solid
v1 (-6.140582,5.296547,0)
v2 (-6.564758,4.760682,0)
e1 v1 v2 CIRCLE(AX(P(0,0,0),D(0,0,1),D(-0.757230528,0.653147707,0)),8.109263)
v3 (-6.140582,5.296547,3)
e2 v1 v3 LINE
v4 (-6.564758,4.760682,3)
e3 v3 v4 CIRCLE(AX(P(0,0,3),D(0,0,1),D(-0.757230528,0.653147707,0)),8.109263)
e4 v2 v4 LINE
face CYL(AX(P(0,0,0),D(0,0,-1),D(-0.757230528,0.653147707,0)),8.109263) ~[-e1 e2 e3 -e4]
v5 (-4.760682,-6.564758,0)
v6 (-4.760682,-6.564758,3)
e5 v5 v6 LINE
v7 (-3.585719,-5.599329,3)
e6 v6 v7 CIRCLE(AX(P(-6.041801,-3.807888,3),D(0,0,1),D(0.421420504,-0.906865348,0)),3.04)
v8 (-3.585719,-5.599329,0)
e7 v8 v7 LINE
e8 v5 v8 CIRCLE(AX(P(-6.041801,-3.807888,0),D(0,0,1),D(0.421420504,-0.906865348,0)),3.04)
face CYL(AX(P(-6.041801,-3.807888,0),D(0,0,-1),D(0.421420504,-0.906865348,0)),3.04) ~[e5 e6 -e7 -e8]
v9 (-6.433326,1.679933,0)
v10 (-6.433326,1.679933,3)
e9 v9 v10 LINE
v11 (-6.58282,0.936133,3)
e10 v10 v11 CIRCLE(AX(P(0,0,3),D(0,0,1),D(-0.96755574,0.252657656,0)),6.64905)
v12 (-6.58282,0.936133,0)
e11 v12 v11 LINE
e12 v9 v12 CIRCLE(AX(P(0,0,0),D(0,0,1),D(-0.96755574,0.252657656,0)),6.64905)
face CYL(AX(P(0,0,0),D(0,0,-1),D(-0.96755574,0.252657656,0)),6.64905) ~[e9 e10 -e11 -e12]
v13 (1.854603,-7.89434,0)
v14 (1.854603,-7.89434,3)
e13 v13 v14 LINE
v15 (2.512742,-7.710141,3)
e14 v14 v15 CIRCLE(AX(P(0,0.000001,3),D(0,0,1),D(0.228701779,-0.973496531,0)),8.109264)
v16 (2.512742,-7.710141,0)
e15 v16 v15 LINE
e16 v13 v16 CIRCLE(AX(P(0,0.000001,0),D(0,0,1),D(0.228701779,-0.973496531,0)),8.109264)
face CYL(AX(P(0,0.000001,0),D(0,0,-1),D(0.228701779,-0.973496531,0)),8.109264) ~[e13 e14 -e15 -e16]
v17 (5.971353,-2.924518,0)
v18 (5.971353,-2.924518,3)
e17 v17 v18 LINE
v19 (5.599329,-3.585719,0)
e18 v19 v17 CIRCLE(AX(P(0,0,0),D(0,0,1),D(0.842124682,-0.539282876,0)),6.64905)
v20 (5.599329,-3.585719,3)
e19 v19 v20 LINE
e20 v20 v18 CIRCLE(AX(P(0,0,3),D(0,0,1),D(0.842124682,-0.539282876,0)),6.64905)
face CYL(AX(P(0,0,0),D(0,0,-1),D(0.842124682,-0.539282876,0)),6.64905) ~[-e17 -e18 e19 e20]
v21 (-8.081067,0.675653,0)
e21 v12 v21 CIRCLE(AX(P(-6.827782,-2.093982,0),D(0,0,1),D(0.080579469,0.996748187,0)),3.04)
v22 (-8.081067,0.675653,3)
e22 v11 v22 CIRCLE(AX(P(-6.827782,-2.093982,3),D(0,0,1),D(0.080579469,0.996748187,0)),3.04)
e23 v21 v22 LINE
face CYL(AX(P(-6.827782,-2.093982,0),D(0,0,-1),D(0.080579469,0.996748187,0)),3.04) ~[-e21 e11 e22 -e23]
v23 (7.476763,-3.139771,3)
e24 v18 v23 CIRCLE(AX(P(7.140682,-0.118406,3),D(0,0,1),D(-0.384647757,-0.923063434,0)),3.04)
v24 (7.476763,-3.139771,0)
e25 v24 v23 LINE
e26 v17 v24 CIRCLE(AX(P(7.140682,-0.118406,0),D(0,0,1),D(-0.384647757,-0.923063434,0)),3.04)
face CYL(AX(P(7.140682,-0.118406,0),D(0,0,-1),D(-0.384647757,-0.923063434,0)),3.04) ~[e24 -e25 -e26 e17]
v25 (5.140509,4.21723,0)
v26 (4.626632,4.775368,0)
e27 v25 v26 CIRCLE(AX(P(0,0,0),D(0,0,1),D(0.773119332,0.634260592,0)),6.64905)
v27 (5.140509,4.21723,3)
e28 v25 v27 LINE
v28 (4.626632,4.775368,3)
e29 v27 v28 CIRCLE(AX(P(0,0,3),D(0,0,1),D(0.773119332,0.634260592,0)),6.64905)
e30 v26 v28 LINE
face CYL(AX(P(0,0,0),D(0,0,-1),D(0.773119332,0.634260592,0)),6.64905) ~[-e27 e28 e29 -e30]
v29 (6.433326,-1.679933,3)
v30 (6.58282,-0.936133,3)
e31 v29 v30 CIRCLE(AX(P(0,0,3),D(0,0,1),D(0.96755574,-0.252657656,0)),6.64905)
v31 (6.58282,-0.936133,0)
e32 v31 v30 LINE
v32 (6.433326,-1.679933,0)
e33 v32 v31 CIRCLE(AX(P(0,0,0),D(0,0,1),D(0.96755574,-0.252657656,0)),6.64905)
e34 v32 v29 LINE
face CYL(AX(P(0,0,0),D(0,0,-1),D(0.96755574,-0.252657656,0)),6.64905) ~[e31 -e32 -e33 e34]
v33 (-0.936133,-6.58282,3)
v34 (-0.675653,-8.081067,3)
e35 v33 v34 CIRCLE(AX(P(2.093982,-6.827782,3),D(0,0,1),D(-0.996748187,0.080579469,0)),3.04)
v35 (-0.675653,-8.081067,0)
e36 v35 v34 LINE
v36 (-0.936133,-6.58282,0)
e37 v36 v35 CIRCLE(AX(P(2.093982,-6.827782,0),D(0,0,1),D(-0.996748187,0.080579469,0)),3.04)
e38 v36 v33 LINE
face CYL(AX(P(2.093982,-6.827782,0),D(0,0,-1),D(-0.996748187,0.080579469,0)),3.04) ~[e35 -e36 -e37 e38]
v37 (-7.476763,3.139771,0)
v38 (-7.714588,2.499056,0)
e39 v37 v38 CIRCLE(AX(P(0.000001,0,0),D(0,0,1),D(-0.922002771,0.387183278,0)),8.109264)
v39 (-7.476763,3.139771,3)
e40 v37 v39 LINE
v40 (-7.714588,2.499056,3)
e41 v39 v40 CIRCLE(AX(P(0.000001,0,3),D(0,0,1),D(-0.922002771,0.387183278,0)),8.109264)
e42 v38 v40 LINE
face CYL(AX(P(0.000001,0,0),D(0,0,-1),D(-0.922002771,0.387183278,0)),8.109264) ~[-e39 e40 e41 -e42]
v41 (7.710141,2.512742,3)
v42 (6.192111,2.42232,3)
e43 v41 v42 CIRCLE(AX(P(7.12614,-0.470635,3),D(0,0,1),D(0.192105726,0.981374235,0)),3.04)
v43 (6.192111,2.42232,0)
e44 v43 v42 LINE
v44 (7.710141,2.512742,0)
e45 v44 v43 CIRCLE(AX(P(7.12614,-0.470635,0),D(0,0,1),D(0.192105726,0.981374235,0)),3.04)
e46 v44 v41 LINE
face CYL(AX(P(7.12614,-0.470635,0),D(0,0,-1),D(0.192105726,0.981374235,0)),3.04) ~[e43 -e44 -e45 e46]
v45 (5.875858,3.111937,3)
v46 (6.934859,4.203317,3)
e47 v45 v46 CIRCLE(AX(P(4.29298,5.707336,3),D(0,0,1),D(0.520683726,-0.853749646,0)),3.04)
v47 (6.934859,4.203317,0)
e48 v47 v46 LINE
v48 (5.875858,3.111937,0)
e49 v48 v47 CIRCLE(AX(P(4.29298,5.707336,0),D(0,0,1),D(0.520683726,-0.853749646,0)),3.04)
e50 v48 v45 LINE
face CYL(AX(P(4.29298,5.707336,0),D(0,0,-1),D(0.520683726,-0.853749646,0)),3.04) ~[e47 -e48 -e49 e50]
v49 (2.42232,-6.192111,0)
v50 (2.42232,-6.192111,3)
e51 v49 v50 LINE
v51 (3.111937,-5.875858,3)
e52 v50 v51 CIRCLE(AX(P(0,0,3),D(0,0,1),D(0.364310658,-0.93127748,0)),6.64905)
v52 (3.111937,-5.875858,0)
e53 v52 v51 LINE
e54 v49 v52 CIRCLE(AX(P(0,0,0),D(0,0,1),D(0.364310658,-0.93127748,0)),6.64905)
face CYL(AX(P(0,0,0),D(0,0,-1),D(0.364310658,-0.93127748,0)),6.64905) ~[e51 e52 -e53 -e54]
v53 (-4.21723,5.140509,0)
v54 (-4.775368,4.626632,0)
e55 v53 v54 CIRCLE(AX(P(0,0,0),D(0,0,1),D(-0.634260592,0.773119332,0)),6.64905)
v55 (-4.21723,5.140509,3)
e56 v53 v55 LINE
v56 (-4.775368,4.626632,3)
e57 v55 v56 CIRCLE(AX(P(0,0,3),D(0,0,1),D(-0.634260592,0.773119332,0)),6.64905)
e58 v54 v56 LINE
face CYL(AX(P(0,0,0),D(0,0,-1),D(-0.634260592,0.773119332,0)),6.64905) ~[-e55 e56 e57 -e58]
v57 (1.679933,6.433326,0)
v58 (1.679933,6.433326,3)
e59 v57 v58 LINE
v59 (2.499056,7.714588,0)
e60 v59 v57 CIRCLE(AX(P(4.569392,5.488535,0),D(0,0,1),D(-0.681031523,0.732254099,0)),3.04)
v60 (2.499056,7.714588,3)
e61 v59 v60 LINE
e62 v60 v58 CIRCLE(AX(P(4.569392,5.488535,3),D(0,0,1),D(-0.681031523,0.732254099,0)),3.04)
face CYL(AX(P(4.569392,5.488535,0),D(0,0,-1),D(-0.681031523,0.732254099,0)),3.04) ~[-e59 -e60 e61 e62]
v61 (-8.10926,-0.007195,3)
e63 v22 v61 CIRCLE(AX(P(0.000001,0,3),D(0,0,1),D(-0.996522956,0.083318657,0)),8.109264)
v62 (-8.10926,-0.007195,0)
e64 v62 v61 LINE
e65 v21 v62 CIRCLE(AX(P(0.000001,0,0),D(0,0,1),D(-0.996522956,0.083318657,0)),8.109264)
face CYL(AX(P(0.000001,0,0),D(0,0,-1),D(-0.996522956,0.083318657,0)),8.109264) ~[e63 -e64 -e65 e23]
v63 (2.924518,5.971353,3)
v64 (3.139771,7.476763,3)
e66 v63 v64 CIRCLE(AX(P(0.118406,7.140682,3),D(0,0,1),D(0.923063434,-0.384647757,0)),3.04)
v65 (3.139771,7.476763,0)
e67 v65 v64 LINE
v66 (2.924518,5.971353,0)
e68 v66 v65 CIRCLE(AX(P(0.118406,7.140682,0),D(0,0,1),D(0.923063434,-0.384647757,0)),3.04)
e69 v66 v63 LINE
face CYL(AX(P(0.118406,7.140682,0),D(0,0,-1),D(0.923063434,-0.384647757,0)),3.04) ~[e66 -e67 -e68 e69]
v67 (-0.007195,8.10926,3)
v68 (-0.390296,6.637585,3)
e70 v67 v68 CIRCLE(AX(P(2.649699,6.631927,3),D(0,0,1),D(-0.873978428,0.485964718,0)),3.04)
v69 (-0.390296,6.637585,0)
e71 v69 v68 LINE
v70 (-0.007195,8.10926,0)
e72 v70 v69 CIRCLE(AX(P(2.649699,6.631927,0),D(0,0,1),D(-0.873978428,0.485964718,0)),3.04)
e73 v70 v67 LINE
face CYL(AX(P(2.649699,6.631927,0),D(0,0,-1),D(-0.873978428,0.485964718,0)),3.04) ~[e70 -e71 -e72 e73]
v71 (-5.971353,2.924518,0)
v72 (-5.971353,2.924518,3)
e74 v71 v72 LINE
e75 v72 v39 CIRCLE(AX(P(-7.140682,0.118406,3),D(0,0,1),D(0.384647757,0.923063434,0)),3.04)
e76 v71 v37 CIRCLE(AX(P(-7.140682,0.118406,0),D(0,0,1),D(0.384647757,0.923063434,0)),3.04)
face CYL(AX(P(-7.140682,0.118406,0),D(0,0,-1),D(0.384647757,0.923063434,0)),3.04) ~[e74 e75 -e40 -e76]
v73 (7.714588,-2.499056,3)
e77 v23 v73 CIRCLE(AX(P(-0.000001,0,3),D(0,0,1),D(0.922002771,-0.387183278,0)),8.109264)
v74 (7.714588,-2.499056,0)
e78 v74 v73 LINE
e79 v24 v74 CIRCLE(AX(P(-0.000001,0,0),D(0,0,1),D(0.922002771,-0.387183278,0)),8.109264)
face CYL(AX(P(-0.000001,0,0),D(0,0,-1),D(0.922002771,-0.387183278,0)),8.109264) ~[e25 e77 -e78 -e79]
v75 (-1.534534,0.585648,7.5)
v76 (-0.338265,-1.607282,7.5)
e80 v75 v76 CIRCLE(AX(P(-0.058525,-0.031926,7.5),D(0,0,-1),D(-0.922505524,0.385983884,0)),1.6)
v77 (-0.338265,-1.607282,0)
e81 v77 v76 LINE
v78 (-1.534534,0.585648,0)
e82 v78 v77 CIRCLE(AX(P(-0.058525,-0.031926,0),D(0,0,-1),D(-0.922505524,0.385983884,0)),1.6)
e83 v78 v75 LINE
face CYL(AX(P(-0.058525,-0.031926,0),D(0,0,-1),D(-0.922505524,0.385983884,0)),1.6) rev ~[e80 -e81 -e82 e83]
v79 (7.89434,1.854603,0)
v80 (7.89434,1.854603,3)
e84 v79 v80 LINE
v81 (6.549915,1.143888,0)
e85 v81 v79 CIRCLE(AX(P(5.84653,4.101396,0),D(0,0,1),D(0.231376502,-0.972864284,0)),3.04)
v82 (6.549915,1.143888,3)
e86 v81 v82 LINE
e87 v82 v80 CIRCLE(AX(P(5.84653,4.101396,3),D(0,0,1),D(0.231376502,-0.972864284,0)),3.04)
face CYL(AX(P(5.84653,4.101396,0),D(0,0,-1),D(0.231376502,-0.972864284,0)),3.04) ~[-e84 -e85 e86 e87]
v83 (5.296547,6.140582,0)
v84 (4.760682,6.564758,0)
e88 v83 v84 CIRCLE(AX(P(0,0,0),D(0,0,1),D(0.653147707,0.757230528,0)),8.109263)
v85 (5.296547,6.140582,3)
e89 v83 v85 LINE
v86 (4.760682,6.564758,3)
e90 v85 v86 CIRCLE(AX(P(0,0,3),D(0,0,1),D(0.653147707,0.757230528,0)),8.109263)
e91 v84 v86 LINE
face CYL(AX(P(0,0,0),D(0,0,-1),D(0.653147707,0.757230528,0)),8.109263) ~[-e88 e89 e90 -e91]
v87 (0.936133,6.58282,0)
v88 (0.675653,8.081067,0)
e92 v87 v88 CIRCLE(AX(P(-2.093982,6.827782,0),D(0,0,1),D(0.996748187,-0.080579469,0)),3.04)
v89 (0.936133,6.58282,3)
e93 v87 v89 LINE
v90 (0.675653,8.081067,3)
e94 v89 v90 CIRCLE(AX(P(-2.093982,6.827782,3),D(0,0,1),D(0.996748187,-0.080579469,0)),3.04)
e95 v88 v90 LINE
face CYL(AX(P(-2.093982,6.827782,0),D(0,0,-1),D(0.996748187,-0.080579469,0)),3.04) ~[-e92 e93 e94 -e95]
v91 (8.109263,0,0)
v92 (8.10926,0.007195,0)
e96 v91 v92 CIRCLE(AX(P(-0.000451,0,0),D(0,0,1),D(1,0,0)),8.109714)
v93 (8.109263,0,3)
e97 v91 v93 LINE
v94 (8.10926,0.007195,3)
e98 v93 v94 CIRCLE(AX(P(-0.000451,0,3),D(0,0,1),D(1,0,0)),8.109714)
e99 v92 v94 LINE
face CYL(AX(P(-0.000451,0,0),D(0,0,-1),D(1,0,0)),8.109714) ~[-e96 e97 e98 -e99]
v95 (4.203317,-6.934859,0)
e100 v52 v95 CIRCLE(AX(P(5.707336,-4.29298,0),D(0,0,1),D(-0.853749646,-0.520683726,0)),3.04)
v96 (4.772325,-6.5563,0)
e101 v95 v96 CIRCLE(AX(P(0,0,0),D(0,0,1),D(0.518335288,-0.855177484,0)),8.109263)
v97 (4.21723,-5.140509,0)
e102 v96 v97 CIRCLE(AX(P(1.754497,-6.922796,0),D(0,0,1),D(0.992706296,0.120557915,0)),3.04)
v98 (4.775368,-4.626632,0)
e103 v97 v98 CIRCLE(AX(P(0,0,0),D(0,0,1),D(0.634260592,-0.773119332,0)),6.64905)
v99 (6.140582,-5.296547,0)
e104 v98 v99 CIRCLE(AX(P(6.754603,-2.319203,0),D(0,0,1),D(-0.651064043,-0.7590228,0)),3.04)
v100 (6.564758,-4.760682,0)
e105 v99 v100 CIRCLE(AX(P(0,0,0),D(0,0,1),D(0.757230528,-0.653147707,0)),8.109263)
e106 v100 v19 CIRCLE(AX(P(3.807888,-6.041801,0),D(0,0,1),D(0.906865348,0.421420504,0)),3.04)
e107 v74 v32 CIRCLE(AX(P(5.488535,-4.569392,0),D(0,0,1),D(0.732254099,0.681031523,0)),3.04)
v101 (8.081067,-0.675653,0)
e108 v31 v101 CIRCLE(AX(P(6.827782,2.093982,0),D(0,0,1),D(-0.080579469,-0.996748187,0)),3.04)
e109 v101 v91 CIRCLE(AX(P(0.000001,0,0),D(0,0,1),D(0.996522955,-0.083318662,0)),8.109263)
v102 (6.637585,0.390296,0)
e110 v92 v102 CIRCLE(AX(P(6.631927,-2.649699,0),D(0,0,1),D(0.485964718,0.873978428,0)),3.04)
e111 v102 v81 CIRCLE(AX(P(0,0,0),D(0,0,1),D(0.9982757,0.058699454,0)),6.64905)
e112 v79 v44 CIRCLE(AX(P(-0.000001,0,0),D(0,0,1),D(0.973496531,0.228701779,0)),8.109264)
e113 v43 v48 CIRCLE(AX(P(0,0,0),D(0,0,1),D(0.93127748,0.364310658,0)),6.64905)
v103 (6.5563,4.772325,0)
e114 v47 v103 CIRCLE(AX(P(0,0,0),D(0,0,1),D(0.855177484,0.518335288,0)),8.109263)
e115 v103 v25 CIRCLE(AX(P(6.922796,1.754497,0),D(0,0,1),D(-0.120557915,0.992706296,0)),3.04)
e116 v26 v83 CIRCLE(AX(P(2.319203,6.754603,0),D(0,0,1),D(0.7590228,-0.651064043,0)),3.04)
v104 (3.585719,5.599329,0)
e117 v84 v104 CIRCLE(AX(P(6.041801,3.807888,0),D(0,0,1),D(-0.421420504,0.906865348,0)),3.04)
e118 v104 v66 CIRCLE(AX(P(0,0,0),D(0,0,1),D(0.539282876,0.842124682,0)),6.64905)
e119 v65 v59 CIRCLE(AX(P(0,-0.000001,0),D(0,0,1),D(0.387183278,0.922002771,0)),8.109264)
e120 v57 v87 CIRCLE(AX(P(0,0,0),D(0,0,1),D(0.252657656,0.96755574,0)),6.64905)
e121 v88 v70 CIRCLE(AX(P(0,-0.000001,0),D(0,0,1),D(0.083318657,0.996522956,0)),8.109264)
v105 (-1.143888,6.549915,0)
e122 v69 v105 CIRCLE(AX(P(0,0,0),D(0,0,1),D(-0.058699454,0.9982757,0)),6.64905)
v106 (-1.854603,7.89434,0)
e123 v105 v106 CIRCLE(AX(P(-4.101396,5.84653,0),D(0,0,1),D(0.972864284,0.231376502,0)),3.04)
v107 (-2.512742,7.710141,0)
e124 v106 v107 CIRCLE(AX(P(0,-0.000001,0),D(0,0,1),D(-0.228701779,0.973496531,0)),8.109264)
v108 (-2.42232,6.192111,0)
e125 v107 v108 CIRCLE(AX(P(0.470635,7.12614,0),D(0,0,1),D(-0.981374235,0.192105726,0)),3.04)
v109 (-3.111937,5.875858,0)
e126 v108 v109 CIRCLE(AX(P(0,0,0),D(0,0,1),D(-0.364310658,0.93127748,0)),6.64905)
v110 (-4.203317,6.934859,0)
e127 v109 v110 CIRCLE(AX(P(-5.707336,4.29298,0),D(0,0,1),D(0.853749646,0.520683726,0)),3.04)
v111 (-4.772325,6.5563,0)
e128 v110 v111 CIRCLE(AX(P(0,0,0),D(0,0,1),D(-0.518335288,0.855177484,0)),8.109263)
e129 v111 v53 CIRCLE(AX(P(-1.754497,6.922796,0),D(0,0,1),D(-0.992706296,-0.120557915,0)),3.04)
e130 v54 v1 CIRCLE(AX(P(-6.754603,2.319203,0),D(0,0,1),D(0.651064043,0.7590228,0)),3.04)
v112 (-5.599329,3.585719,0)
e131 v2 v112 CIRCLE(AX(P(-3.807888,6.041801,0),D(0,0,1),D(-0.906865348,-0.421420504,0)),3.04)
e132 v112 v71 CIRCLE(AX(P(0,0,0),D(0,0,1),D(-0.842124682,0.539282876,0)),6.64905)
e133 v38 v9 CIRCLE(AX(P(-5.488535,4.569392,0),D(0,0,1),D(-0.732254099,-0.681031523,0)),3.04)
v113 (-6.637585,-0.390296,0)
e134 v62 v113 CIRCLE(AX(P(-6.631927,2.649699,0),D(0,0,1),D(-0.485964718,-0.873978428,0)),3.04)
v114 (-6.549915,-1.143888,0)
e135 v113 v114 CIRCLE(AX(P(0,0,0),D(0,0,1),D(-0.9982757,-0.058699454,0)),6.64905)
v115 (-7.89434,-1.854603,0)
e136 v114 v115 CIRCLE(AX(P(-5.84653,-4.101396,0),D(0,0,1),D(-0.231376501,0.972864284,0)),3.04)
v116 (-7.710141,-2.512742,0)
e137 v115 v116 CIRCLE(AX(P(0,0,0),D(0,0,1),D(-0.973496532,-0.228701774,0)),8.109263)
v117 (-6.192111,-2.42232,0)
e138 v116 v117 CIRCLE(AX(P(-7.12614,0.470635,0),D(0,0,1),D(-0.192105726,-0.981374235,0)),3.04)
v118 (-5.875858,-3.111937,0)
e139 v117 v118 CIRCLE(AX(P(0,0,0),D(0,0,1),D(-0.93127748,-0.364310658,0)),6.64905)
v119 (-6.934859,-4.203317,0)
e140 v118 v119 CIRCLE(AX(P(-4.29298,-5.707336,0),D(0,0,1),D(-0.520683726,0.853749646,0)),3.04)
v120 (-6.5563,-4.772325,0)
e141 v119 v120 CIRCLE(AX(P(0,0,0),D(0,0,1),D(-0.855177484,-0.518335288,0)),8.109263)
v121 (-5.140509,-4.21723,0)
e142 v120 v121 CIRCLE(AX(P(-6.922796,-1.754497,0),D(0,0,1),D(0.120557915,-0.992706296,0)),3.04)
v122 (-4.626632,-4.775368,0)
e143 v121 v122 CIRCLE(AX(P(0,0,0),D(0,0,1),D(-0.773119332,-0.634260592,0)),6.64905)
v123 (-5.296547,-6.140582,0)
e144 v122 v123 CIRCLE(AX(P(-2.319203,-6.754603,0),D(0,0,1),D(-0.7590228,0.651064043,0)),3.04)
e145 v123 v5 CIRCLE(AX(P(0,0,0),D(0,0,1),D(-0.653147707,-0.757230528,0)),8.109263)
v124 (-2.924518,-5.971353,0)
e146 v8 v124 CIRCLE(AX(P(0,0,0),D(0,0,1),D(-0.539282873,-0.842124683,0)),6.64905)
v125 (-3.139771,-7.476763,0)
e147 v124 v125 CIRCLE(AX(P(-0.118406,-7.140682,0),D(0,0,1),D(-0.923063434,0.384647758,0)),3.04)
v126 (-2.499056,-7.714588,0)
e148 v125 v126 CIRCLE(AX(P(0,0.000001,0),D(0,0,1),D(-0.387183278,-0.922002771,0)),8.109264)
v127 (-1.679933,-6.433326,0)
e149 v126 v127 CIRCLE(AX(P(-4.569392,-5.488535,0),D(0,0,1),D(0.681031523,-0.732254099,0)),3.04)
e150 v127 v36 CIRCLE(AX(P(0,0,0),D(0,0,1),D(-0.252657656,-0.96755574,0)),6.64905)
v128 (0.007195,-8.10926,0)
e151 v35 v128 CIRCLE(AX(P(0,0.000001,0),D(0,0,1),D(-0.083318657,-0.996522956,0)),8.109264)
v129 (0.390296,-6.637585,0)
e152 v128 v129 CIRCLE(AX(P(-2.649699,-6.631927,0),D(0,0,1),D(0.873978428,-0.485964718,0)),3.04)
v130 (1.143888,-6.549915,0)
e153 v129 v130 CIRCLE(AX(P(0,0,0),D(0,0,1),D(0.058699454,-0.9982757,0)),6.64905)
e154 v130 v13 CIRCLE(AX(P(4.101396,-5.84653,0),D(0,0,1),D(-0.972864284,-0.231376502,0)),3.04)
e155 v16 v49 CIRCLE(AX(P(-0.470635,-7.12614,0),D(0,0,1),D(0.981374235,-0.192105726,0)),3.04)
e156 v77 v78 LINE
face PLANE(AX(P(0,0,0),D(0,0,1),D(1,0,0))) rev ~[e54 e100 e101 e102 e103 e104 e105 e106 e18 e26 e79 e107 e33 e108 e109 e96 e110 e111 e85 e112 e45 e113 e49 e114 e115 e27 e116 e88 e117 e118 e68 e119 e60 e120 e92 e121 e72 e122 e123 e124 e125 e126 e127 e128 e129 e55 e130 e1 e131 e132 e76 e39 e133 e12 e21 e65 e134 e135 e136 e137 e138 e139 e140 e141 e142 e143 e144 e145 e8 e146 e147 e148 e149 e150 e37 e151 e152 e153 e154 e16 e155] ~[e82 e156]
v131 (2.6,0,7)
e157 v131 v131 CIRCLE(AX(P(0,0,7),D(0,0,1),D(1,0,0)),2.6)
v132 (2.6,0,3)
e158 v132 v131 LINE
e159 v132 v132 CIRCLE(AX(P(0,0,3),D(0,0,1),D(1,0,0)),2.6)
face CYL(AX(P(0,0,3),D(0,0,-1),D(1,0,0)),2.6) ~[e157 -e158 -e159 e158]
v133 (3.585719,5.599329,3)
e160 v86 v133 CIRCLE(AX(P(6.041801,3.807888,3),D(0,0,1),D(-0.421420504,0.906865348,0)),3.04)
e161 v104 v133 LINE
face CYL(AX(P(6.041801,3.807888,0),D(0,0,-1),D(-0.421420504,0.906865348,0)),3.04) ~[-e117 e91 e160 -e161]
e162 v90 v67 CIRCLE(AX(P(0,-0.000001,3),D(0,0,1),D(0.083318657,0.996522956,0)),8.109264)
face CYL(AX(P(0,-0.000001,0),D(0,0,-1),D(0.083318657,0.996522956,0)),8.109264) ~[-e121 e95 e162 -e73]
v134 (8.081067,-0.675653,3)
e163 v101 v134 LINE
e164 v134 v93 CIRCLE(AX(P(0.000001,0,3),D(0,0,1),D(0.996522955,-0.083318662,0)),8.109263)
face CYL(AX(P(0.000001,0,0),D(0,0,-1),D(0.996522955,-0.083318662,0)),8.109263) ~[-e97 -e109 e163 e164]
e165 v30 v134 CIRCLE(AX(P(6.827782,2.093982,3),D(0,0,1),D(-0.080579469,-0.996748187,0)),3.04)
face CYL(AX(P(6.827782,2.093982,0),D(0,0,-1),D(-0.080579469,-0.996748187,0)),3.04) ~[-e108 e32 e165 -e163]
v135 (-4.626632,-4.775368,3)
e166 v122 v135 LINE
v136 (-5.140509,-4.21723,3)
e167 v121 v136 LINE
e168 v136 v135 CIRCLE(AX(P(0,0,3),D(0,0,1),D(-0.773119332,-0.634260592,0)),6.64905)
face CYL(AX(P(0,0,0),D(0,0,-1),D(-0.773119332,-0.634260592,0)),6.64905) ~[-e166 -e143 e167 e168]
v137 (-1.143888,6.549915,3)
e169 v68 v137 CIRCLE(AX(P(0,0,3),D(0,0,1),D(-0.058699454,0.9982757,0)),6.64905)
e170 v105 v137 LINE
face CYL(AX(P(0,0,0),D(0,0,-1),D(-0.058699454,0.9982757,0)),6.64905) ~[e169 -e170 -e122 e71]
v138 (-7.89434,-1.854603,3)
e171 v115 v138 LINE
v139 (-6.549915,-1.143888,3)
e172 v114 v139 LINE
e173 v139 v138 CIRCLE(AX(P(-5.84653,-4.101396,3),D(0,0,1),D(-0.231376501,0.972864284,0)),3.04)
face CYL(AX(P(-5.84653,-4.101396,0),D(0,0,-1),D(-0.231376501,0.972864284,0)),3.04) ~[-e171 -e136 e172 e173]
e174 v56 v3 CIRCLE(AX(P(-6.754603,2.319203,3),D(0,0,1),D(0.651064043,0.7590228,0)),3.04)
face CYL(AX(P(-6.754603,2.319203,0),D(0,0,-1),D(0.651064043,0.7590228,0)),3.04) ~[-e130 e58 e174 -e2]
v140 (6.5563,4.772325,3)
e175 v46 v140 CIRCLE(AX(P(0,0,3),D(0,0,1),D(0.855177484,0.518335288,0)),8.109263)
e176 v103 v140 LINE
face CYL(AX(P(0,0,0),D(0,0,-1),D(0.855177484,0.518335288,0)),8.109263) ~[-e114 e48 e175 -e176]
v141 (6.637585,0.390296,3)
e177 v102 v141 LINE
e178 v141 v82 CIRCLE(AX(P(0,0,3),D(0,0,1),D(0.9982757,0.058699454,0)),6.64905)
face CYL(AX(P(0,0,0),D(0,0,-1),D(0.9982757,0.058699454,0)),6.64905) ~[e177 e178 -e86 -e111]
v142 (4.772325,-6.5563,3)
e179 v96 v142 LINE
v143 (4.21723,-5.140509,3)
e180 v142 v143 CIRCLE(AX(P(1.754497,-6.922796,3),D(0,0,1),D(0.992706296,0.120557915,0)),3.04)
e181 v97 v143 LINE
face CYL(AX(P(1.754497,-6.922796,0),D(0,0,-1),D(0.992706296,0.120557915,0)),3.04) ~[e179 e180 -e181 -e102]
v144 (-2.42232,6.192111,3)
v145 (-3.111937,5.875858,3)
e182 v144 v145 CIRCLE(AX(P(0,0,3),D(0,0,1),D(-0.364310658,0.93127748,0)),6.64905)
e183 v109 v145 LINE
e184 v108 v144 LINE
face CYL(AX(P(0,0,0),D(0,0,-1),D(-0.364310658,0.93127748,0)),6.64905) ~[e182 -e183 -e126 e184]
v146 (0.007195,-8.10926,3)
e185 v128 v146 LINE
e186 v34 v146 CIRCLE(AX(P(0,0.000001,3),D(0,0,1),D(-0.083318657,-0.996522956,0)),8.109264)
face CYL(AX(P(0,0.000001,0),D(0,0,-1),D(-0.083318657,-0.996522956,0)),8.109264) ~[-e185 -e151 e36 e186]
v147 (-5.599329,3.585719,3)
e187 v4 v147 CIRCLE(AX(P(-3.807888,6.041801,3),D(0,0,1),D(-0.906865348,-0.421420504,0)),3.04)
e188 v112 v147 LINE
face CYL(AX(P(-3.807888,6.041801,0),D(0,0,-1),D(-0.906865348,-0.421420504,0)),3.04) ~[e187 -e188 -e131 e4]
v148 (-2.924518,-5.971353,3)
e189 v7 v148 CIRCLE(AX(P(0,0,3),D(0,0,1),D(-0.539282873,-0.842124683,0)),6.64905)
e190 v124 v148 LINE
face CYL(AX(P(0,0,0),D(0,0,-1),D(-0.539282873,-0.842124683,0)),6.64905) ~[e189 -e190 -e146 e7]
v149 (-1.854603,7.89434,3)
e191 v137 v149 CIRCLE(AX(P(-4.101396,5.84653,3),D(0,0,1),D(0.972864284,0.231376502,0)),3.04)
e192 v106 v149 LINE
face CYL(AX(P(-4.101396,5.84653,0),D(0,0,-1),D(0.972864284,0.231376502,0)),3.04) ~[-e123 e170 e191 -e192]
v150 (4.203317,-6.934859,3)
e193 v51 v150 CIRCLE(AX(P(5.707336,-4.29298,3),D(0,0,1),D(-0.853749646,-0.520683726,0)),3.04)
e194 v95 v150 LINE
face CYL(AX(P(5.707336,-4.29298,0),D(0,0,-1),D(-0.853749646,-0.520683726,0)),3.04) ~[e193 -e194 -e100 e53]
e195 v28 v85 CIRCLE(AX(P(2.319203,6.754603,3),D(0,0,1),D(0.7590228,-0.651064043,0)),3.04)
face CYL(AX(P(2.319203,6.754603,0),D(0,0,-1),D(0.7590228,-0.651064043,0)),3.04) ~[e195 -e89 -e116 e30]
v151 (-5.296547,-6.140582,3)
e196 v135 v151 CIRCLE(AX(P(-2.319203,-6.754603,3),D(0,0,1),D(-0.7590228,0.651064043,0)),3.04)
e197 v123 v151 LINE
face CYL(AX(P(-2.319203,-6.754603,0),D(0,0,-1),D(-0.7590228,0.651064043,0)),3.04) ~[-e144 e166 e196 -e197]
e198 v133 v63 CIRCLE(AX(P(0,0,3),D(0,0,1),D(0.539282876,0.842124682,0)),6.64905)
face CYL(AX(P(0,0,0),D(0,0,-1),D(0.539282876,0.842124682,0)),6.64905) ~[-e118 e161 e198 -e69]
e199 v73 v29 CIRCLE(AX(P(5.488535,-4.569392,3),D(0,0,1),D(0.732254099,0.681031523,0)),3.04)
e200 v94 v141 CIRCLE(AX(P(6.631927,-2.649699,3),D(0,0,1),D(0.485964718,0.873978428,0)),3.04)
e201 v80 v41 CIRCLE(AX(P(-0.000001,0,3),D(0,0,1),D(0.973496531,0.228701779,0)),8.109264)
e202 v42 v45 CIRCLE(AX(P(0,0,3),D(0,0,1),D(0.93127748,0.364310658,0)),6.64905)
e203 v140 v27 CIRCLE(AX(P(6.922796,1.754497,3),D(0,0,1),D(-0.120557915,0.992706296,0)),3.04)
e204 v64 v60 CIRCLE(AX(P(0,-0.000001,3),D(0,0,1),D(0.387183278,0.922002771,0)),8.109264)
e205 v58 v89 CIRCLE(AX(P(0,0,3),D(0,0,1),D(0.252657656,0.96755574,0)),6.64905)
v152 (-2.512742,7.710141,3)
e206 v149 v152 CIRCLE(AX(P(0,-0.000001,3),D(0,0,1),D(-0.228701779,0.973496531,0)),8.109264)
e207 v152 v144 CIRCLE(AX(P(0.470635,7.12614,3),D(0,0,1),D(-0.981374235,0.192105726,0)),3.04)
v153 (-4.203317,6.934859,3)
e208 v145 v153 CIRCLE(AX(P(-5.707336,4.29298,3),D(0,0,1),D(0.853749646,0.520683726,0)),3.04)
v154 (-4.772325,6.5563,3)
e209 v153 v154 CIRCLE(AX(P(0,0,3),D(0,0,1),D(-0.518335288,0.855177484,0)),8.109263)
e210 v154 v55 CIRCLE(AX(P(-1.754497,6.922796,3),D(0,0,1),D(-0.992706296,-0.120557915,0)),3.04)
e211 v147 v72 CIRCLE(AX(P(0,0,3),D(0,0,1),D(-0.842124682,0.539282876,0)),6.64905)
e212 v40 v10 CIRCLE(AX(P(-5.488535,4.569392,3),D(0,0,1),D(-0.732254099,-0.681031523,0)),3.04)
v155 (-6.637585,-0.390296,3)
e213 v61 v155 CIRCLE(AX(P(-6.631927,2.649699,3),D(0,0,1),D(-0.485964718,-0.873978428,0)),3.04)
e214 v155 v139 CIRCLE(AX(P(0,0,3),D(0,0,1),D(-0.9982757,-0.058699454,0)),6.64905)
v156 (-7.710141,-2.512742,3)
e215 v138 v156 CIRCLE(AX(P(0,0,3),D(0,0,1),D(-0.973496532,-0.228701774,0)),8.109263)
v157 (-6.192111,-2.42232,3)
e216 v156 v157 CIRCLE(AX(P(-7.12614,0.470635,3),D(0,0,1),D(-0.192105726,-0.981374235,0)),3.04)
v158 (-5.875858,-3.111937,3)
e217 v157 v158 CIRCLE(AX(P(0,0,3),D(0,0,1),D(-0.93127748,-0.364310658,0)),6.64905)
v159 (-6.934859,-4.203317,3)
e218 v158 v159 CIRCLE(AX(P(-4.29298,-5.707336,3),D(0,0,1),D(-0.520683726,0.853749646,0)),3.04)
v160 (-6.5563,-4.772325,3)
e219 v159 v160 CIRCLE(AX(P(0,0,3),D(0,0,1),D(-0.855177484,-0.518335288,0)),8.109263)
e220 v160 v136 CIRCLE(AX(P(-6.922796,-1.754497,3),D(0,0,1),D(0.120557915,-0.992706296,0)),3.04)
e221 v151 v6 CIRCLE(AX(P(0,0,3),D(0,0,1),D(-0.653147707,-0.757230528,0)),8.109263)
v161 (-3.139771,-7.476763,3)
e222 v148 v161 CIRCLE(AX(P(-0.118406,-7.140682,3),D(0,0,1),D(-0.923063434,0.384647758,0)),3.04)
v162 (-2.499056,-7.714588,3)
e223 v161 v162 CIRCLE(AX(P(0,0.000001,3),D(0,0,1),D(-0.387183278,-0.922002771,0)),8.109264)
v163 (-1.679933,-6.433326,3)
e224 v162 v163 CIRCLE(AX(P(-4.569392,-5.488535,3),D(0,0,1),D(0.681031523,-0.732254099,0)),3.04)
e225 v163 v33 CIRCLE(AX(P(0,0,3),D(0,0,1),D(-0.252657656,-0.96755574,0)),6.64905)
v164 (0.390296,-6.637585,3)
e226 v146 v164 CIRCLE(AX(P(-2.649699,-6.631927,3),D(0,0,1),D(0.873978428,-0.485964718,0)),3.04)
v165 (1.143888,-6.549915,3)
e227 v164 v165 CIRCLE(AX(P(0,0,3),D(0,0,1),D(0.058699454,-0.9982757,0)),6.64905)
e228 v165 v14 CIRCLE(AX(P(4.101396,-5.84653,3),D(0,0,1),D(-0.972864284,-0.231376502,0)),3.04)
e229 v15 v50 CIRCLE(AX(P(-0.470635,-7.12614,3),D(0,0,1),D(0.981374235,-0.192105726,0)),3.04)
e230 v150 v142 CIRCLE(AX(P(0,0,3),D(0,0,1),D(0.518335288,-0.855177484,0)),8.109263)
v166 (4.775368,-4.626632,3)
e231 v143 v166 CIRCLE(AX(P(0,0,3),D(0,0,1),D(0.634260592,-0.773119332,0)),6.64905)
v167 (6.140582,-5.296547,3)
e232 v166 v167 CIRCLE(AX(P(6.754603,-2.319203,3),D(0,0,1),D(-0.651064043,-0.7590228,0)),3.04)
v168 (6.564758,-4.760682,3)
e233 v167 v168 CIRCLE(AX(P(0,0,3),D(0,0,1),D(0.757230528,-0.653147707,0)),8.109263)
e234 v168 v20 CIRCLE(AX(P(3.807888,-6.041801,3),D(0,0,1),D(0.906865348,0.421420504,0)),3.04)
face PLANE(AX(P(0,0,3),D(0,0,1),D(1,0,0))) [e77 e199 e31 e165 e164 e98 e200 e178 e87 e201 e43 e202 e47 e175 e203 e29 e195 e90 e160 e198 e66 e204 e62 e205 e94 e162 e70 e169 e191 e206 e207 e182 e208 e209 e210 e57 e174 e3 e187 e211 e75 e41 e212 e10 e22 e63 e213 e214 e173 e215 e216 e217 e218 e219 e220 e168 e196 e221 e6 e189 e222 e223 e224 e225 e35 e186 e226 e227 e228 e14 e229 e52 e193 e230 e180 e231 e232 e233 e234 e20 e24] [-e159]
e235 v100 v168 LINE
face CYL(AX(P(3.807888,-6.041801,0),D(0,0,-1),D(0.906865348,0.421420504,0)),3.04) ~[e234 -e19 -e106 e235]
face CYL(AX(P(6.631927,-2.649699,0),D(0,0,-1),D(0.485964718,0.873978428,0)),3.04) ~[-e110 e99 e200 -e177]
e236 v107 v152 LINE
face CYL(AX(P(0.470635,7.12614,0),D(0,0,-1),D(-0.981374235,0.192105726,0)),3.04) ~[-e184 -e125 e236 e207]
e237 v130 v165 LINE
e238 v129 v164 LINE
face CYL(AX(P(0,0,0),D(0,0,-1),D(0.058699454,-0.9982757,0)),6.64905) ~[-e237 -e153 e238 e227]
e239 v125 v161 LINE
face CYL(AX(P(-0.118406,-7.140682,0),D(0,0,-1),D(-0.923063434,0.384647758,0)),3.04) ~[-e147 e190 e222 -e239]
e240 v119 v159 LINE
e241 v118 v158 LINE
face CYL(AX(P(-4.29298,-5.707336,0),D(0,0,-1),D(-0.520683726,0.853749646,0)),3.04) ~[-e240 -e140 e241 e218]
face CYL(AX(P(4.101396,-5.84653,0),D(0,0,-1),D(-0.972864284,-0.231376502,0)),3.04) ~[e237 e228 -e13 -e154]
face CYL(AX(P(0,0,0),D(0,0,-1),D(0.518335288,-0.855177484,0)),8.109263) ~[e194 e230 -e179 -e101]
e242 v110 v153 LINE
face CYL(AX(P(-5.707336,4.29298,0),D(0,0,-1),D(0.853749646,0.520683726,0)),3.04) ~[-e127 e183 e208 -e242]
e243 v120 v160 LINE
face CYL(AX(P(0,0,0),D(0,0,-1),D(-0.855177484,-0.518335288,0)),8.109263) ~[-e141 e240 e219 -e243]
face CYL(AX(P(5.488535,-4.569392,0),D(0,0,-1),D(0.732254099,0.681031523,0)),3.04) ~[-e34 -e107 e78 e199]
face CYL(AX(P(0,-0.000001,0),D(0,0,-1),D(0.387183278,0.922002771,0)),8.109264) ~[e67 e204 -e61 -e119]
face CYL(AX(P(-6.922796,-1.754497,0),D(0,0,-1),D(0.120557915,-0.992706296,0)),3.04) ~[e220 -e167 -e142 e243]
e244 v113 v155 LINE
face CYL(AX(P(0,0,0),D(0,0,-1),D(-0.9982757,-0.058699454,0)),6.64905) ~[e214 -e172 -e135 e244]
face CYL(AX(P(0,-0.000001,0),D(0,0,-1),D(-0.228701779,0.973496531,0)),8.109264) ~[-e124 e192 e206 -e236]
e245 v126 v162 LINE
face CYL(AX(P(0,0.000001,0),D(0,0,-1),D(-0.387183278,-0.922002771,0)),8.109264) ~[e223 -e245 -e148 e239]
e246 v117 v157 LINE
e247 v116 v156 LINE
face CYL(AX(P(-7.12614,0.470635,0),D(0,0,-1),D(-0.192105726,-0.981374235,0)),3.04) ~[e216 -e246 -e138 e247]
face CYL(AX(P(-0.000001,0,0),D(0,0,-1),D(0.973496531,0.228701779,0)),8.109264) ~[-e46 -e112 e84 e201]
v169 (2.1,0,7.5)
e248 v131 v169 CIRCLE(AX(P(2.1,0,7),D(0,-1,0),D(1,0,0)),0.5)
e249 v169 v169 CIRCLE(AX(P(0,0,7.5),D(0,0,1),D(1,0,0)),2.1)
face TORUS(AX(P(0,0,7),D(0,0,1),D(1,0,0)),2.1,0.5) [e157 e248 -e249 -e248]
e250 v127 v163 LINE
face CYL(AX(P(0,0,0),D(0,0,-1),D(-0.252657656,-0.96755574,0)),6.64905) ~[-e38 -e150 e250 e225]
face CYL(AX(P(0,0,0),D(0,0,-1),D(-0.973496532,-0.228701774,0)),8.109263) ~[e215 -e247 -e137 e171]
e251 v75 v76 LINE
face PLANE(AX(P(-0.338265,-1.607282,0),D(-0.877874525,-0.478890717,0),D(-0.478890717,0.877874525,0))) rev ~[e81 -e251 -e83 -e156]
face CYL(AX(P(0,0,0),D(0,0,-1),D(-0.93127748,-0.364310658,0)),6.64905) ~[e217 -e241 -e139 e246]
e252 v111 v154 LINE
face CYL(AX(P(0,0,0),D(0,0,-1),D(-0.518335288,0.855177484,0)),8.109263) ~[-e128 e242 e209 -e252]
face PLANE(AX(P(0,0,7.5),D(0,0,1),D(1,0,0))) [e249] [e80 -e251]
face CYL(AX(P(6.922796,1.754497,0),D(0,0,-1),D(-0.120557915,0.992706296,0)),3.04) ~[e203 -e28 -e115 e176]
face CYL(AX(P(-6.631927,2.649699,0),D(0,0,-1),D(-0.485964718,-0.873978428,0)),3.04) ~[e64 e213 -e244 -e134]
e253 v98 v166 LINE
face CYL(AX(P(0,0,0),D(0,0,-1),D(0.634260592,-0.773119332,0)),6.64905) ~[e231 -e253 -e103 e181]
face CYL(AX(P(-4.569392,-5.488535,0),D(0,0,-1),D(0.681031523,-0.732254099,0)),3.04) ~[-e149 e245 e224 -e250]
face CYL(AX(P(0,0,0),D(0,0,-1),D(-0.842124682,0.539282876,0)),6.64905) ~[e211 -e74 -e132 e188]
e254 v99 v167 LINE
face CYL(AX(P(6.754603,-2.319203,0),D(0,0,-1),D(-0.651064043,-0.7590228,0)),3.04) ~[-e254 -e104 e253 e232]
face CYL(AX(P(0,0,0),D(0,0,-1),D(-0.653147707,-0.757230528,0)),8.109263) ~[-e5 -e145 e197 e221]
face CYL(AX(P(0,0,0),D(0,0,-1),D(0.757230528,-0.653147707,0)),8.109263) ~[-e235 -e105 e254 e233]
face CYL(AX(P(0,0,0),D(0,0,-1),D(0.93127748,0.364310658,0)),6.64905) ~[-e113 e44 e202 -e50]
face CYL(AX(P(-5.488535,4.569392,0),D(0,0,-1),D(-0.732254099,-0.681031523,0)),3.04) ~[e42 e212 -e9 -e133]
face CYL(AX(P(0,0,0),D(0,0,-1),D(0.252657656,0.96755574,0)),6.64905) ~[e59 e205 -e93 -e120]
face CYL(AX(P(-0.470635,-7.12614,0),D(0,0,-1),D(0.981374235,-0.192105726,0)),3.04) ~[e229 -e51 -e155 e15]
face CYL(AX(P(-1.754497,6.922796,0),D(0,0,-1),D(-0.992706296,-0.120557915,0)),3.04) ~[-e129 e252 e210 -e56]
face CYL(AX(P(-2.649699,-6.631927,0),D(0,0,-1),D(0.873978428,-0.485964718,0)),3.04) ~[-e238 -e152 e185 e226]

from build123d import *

# Parameters (mm, degrees)
EXTRUDE_4_DEPTH     = 3
SKETCH_5_R          = 2.6
EXTRUDE_6_DEPTH     = 4.5
FILLET_1_R          = 0.5
CUT_EXTRUDE_1_DEPTH = 14.702930219


with BuildPart() as part:
    # 草图4 → 凸台-拉伸4 (new body)
    with BuildSketch(Plane.XY):
        with BuildLine():
            ThreePointArc((8.109259925, 0.007195304), (7.397764467, 0.292254868), (6.637585045, 0.390295618))
            ThreePointArc((6.637585045, 0.390295618), (6.604507127, 0.768343357), (6.549914936, 1.143888207))
            ThreePointArc((6.549914936, 1.143888207), (7.267285645, 1.413821546), (7.894339522, 1.854602872))
            ThreePointArc((7.894339522, 1.854602872), (7.809176661, 2.185613911), (7.710141023, 2.512742269))
            ThreePointArc((7.710141023, 2.512742269), (6.945380381, 2.563985838), (6.192110531, 2.422319772))
            ThreePointArc((6.192110531, 2.422319772), (6.043828385, 2.771642898), (5.875858386, 3.11193736))
            ThreePointArc((5.875858386, 3.11193736), (6.474704484, 3.590338961), (6.934859239, 4.203317219))
            ThreePointArc((6.934859239, 4.203317219), (6.751576509, 4.491810653), (6.556299797, 4.772324514))
            ThreePointArc((6.556299797, 4.772324514), (5.813134073, 4.584736009), (5.140509095, 4.217230388))
            ThreePointArc((5.140509095, 4.217230388), (4.891537611, 4.503634721), (4.626631877, 4.775368402))
            ThreePointArc((4.626631877, 4.775368402), (5.048334136, 5.415408984), (5.296546615, 6.140581589))
            ThreePointArc((5.296546615, 6.140581589), (5.033085007, 6.358317671), (4.760682268, 6.564758384))
            ThreePointArc((4.760682268, 6.564758384), (4.111857698, 6.156700276), (3.585718812, 5.599329112))
            ThreePointArc((3.585718812, 5.599329112), (3.260429054, 5.794779399), (2.924518404, 5.971353113))
            ThreePointArc((2.924518404, 5.971353113), (3.127797669, 6.710381044), (3.139771106, 7.47676305))
            ThreePointArc((3.139771106, 7.47676305), (2.821920077, 7.602428255), (2.499055988, 7.714587965))
            ThreePointArc((2.499055988, 7.714587965), (2.008084044, 7.126003823), (1.67993339, 6.433326489))
            ThreePointArc((1.67993339, 6.433326489), (1.310166985, 6.518690695), (0.936132694, 6.582820177))
            ThreePointArc((0.936132694, 6.582820177), (0.901090574, 7.348494254), (0.675652925, 8.081066849))
            ThreePointArc((0.675652925, 8.081066849), (0.334525948, 8.102360192), (-0.007195304, 8.109259925))
            ThreePointArc((-0.007195304, 8.109259925), (-0.292254868, 7.397764467), (-0.390295618, 6.637585045))
            ThreePointArc((-0.390295618, 6.637585045), (-0.768343357, 6.604507127), (-1.143888207, 6.549914936))
            ThreePointArc((-1.143888207, 6.549914936), (-1.413821546, 7.267285645), (-1.854602872, 7.894339522))
            ThreePointArc((-1.854602872, 7.894339522), (-2.185613911, 7.809176661), (-2.512742269, 7.710141023))
            ThreePointArc((-2.512742269, 7.710141023), (-2.563985838, 6.945380381), (-2.422319772, 6.192110531))
            ThreePointArc((-2.422319772, 6.192110531), (-2.771642898, 6.043828385), (-3.11193736, 5.875858386))
            ThreePointArc((-3.11193736, 5.875858386), (-3.590338961, 6.474704484), (-4.203317219, 6.934859239))
            ThreePointArc((-4.203317219, 6.934859239), (-4.491810653, 6.751576509), (-4.772324514, 6.556299797))
            ThreePointArc((-4.772324514, 6.556299797), (-4.584736009, 5.813134073), (-4.217230388, 5.140509095))
            ThreePointArc((-4.217230388, 5.140509095), (-4.503634721, 4.891537611), (-4.775368402, 4.626631877))
            ThreePointArc((-4.775368402, 4.626631877), (-5.415408984, 5.048334136), (-6.140581589, 5.296546615))
            ThreePointArc((-6.140581589, 5.296546615), (-6.358317671, 5.033085007), (-6.564758384, 4.760682268))
            ThreePointArc((-6.564758384, 4.760682268), (-6.156700276, 4.111857698), (-5.599329112, 3.585718812))
            ThreePointArc((-5.599329112, 3.585718812), (-5.794779399, 3.260429054), (-5.971353113, 2.924518404))
            ThreePointArc((-5.971353113, 2.924518404), (-6.710381044, 3.127797669), (-7.47676305, 3.139771106))
            ThreePointArc((-7.47676305, 3.139771106), (-7.602428255, 2.821920077), (-7.714587965, 2.499055988))
            ThreePointArc((-7.714587965, 2.499055988), (-7.126003823, 2.008084044), (-6.433326489, 1.67993339))
            ThreePointArc((-6.433326489, 1.67993339), (-6.518690695, 1.310166985), (-6.582820177, 0.936132694))
            ThreePointArc((-6.582820177, 0.936132694), (-7.348494254, 0.901090574), (-8.081066849, 0.675652925))
            ThreePointArc((-8.081066849, 0.675652925), (-8.102360192, 0.334525948), (-8.109259925, -0.007195304))
            ThreePointArc((-8.109259925, -0.007195304), (-7.397764467, -0.292254868), (-6.637585045, -0.390295618))
            ThreePointArc((-6.637585045, -0.390295618), (-6.604507127, -0.768343357), (-6.549914936, -1.143888207))
            ThreePointArc((-6.549914936, -1.143888207), (-7.267285646, -1.413821546), (-7.894339522, -1.854602872))
            ThreePointArc((-7.894339522, -1.854602872), (-7.809176662, -2.185613911), (-7.710141023, -2.512742269))
            ThreePointArc((-7.710141023, -2.512742269), (-6.945380381, -2.563985838), (-6.192110531, -2.422319772))
            ThreePointArc((-6.192110531, -2.422319772), (-6.043828385, -2.771642898), (-5.875858386, -3.11193736))
            ThreePointArc((-5.875858386, -3.11193736), (-6.474704484, -3.590338961), (-6.934859239, -4.203317219))
            ThreePointArc((-6.934859239, -4.203317219), (-6.751576509, -4.491810653), (-6.556299797, -4.772324514))
            ThreePointArc((-6.556299797, -4.772324514), (-5.813134073, -4.584736009), (-5.140509095, -4.217230388))
            ThreePointArc((-5.140509095, -4.217230388), (-4.891537611, -4.503634721), (-4.626631877, -4.775368402))
            ThreePointArc((-4.626631877, -4.775368402), (-5.048334136, -5.415408984), (-5.296546615, -6.140581589))
            ThreePointArc((-5.296546615, -6.140581589), (-5.033085007, -6.358317671), (-4.760682268, -6.564758384))
            ThreePointArc((-4.760682268, -6.564758384), (-4.111857698, -6.156700276), (-3.585718813, -5.599329112))
            ThreePointArc((-3.585718813, -5.599329112), (-3.260429054, -5.794779399), (-2.924518404, -5.971353114))
            ThreePointArc((-2.924518404, -5.971353114), (-3.127797669, -6.710381044), (-3.139771106, -7.47676305))
            ThreePointArc((-3.139771106, -7.47676305), (-2.821920077, -7.602428255), (-2.499055988, -7.714587965))
            ThreePointArc((-2.499055988, -7.714587965), (-2.008084044, -7.126003823), (-1.67993339, -6.433326489))
            ThreePointArc((-1.67993339, -6.433326489), (-1.310166985, -6.518690695), (-0.936132694, -6.582820177))
            ThreePointArc((-0.936132694, -6.582820177), (-0.901090574, -7.348494254), (-0.675652925, -8.081066849))
            ThreePointArc((-0.675652925, -8.081066849), (-0.334525948, -8.102360192), (0.007195304, -8.109259925))
            ThreePointArc((0.007195304, -8.109259925), (0.292254868, -7.397764467), (0.390295618, -6.637585045))
            ThreePointArc((0.390295618, -6.637585045), (0.768343357, -6.604507127), (1.143888207, -6.549914936))
            ThreePointArc((1.143888207, -6.549914936), (1.413821546, -7.267285645), (1.854602872, -7.894339522))
            ThreePointArc((1.854602872, -7.894339522), (2.185613911, -7.809176661), (2.512742269, -7.710141023))
            ThreePointArc((2.512742269, -7.710141023), (2.563985838, -6.945380381), (2.422319772, -6.192110531))
            ThreePointArc((2.422319772, -6.192110531), (2.771642898, -6.043828385), (3.11193736, -5.875858386))
            ThreePointArc((3.11193736, -5.875858386), (3.590338961, -6.474704484), (4.203317219, -6.934859239))
            ThreePointArc((4.203317219, -6.934859239), (4.491810653, -6.751576509), (4.772324514, -6.556299797))
            ThreePointArc((4.772324514, -6.556299797), (4.584736009, -5.813134073), (4.217230388, -5.140509095))
            ThreePointArc((4.217230388, -5.140509095), (4.503634721, -4.891537611), (4.775368402, -4.626631877))
            ThreePointArc((4.775368402, -4.626631877), (5.415408984, -5.048334136), (6.140581589, -5.296546615))
            ThreePointArc((6.140581589, -5.296546615), (6.358317671, -5.033085007), (6.564758384, -4.760682268))
            ThreePointArc((6.564758384, -4.760682268), (6.156700276, -4.111857698), (5.599329112, -3.585718812))
            ThreePointArc((5.599329112, -3.585718812), (5.794779399, -3.260429054), (5.971353113, -2.924518404))
            ThreePointArc((5.971353113, -2.924518404), (6.710381044, -3.127797669), (7.47676305, -3.139771106))
            ThreePointArc((7.47676305, -3.139771106), (7.602428255, -2.821920077), (7.714587965, -2.499055988))
            ThreePointArc((7.714587965, -2.499055988), (7.126003823, -2.008084044), (6.433326489, -1.67993339))
            ThreePointArc((6.433326489, -1.67993339), (6.518690695, -1.310166985), (6.582820177, -0.936132694))
            ThreePointArc((6.582820177, -0.936132694), (7.348494254, -0.901090574), (8.081066849, -0.675652925))
            ThreePointArc((8.081066849, -0.675652925), (8.102210984, -0.338120505), (8.109263117, 0))
            ThreePointArc((8.109263117, 0), (8.109262319, 0.003597652), (8.109259925, 0.007195304))
        make_face()
    extrude(amount=EXTRUDE_4_DEPTH)

    # 草图5 → 凸台-拉伸6 (add)
    with BuildSketch(Plane.XY.offset(3)):
        Circle(SKETCH_5_R)
    extrude(amount=EXTRUDE_6_DEPTH)

    # 圆角1
    fillet_1_edges = [part.edges().sort_by_distance(p)[0] for p in [
        (-2.6, 0, 7.5),
    ]]
    fillet(fillet_1_edges, radius=FILLET_1_R)

    # 草图8 → 切除-拉伸1 (cut, through all)
    with BuildSketch(Plane(origin=(0, 0, 0), x_dir=(-1, 0, 0), z_dir=(0, 0, -1))):
        with BuildLine():
            Line((0.33826518, -1.607281695), (1.534533807, 0.585648166))
            ThreePointArc((1.534533807, 0.585648166), (-1.346074271, 0.734299099), (0.33826518, -1.607281695))
        make_face()
    extrude(amount=-CUT_EXTRUDE_1_DEPTH, mode=Mode.SUBTRACT)


solid = part.part
